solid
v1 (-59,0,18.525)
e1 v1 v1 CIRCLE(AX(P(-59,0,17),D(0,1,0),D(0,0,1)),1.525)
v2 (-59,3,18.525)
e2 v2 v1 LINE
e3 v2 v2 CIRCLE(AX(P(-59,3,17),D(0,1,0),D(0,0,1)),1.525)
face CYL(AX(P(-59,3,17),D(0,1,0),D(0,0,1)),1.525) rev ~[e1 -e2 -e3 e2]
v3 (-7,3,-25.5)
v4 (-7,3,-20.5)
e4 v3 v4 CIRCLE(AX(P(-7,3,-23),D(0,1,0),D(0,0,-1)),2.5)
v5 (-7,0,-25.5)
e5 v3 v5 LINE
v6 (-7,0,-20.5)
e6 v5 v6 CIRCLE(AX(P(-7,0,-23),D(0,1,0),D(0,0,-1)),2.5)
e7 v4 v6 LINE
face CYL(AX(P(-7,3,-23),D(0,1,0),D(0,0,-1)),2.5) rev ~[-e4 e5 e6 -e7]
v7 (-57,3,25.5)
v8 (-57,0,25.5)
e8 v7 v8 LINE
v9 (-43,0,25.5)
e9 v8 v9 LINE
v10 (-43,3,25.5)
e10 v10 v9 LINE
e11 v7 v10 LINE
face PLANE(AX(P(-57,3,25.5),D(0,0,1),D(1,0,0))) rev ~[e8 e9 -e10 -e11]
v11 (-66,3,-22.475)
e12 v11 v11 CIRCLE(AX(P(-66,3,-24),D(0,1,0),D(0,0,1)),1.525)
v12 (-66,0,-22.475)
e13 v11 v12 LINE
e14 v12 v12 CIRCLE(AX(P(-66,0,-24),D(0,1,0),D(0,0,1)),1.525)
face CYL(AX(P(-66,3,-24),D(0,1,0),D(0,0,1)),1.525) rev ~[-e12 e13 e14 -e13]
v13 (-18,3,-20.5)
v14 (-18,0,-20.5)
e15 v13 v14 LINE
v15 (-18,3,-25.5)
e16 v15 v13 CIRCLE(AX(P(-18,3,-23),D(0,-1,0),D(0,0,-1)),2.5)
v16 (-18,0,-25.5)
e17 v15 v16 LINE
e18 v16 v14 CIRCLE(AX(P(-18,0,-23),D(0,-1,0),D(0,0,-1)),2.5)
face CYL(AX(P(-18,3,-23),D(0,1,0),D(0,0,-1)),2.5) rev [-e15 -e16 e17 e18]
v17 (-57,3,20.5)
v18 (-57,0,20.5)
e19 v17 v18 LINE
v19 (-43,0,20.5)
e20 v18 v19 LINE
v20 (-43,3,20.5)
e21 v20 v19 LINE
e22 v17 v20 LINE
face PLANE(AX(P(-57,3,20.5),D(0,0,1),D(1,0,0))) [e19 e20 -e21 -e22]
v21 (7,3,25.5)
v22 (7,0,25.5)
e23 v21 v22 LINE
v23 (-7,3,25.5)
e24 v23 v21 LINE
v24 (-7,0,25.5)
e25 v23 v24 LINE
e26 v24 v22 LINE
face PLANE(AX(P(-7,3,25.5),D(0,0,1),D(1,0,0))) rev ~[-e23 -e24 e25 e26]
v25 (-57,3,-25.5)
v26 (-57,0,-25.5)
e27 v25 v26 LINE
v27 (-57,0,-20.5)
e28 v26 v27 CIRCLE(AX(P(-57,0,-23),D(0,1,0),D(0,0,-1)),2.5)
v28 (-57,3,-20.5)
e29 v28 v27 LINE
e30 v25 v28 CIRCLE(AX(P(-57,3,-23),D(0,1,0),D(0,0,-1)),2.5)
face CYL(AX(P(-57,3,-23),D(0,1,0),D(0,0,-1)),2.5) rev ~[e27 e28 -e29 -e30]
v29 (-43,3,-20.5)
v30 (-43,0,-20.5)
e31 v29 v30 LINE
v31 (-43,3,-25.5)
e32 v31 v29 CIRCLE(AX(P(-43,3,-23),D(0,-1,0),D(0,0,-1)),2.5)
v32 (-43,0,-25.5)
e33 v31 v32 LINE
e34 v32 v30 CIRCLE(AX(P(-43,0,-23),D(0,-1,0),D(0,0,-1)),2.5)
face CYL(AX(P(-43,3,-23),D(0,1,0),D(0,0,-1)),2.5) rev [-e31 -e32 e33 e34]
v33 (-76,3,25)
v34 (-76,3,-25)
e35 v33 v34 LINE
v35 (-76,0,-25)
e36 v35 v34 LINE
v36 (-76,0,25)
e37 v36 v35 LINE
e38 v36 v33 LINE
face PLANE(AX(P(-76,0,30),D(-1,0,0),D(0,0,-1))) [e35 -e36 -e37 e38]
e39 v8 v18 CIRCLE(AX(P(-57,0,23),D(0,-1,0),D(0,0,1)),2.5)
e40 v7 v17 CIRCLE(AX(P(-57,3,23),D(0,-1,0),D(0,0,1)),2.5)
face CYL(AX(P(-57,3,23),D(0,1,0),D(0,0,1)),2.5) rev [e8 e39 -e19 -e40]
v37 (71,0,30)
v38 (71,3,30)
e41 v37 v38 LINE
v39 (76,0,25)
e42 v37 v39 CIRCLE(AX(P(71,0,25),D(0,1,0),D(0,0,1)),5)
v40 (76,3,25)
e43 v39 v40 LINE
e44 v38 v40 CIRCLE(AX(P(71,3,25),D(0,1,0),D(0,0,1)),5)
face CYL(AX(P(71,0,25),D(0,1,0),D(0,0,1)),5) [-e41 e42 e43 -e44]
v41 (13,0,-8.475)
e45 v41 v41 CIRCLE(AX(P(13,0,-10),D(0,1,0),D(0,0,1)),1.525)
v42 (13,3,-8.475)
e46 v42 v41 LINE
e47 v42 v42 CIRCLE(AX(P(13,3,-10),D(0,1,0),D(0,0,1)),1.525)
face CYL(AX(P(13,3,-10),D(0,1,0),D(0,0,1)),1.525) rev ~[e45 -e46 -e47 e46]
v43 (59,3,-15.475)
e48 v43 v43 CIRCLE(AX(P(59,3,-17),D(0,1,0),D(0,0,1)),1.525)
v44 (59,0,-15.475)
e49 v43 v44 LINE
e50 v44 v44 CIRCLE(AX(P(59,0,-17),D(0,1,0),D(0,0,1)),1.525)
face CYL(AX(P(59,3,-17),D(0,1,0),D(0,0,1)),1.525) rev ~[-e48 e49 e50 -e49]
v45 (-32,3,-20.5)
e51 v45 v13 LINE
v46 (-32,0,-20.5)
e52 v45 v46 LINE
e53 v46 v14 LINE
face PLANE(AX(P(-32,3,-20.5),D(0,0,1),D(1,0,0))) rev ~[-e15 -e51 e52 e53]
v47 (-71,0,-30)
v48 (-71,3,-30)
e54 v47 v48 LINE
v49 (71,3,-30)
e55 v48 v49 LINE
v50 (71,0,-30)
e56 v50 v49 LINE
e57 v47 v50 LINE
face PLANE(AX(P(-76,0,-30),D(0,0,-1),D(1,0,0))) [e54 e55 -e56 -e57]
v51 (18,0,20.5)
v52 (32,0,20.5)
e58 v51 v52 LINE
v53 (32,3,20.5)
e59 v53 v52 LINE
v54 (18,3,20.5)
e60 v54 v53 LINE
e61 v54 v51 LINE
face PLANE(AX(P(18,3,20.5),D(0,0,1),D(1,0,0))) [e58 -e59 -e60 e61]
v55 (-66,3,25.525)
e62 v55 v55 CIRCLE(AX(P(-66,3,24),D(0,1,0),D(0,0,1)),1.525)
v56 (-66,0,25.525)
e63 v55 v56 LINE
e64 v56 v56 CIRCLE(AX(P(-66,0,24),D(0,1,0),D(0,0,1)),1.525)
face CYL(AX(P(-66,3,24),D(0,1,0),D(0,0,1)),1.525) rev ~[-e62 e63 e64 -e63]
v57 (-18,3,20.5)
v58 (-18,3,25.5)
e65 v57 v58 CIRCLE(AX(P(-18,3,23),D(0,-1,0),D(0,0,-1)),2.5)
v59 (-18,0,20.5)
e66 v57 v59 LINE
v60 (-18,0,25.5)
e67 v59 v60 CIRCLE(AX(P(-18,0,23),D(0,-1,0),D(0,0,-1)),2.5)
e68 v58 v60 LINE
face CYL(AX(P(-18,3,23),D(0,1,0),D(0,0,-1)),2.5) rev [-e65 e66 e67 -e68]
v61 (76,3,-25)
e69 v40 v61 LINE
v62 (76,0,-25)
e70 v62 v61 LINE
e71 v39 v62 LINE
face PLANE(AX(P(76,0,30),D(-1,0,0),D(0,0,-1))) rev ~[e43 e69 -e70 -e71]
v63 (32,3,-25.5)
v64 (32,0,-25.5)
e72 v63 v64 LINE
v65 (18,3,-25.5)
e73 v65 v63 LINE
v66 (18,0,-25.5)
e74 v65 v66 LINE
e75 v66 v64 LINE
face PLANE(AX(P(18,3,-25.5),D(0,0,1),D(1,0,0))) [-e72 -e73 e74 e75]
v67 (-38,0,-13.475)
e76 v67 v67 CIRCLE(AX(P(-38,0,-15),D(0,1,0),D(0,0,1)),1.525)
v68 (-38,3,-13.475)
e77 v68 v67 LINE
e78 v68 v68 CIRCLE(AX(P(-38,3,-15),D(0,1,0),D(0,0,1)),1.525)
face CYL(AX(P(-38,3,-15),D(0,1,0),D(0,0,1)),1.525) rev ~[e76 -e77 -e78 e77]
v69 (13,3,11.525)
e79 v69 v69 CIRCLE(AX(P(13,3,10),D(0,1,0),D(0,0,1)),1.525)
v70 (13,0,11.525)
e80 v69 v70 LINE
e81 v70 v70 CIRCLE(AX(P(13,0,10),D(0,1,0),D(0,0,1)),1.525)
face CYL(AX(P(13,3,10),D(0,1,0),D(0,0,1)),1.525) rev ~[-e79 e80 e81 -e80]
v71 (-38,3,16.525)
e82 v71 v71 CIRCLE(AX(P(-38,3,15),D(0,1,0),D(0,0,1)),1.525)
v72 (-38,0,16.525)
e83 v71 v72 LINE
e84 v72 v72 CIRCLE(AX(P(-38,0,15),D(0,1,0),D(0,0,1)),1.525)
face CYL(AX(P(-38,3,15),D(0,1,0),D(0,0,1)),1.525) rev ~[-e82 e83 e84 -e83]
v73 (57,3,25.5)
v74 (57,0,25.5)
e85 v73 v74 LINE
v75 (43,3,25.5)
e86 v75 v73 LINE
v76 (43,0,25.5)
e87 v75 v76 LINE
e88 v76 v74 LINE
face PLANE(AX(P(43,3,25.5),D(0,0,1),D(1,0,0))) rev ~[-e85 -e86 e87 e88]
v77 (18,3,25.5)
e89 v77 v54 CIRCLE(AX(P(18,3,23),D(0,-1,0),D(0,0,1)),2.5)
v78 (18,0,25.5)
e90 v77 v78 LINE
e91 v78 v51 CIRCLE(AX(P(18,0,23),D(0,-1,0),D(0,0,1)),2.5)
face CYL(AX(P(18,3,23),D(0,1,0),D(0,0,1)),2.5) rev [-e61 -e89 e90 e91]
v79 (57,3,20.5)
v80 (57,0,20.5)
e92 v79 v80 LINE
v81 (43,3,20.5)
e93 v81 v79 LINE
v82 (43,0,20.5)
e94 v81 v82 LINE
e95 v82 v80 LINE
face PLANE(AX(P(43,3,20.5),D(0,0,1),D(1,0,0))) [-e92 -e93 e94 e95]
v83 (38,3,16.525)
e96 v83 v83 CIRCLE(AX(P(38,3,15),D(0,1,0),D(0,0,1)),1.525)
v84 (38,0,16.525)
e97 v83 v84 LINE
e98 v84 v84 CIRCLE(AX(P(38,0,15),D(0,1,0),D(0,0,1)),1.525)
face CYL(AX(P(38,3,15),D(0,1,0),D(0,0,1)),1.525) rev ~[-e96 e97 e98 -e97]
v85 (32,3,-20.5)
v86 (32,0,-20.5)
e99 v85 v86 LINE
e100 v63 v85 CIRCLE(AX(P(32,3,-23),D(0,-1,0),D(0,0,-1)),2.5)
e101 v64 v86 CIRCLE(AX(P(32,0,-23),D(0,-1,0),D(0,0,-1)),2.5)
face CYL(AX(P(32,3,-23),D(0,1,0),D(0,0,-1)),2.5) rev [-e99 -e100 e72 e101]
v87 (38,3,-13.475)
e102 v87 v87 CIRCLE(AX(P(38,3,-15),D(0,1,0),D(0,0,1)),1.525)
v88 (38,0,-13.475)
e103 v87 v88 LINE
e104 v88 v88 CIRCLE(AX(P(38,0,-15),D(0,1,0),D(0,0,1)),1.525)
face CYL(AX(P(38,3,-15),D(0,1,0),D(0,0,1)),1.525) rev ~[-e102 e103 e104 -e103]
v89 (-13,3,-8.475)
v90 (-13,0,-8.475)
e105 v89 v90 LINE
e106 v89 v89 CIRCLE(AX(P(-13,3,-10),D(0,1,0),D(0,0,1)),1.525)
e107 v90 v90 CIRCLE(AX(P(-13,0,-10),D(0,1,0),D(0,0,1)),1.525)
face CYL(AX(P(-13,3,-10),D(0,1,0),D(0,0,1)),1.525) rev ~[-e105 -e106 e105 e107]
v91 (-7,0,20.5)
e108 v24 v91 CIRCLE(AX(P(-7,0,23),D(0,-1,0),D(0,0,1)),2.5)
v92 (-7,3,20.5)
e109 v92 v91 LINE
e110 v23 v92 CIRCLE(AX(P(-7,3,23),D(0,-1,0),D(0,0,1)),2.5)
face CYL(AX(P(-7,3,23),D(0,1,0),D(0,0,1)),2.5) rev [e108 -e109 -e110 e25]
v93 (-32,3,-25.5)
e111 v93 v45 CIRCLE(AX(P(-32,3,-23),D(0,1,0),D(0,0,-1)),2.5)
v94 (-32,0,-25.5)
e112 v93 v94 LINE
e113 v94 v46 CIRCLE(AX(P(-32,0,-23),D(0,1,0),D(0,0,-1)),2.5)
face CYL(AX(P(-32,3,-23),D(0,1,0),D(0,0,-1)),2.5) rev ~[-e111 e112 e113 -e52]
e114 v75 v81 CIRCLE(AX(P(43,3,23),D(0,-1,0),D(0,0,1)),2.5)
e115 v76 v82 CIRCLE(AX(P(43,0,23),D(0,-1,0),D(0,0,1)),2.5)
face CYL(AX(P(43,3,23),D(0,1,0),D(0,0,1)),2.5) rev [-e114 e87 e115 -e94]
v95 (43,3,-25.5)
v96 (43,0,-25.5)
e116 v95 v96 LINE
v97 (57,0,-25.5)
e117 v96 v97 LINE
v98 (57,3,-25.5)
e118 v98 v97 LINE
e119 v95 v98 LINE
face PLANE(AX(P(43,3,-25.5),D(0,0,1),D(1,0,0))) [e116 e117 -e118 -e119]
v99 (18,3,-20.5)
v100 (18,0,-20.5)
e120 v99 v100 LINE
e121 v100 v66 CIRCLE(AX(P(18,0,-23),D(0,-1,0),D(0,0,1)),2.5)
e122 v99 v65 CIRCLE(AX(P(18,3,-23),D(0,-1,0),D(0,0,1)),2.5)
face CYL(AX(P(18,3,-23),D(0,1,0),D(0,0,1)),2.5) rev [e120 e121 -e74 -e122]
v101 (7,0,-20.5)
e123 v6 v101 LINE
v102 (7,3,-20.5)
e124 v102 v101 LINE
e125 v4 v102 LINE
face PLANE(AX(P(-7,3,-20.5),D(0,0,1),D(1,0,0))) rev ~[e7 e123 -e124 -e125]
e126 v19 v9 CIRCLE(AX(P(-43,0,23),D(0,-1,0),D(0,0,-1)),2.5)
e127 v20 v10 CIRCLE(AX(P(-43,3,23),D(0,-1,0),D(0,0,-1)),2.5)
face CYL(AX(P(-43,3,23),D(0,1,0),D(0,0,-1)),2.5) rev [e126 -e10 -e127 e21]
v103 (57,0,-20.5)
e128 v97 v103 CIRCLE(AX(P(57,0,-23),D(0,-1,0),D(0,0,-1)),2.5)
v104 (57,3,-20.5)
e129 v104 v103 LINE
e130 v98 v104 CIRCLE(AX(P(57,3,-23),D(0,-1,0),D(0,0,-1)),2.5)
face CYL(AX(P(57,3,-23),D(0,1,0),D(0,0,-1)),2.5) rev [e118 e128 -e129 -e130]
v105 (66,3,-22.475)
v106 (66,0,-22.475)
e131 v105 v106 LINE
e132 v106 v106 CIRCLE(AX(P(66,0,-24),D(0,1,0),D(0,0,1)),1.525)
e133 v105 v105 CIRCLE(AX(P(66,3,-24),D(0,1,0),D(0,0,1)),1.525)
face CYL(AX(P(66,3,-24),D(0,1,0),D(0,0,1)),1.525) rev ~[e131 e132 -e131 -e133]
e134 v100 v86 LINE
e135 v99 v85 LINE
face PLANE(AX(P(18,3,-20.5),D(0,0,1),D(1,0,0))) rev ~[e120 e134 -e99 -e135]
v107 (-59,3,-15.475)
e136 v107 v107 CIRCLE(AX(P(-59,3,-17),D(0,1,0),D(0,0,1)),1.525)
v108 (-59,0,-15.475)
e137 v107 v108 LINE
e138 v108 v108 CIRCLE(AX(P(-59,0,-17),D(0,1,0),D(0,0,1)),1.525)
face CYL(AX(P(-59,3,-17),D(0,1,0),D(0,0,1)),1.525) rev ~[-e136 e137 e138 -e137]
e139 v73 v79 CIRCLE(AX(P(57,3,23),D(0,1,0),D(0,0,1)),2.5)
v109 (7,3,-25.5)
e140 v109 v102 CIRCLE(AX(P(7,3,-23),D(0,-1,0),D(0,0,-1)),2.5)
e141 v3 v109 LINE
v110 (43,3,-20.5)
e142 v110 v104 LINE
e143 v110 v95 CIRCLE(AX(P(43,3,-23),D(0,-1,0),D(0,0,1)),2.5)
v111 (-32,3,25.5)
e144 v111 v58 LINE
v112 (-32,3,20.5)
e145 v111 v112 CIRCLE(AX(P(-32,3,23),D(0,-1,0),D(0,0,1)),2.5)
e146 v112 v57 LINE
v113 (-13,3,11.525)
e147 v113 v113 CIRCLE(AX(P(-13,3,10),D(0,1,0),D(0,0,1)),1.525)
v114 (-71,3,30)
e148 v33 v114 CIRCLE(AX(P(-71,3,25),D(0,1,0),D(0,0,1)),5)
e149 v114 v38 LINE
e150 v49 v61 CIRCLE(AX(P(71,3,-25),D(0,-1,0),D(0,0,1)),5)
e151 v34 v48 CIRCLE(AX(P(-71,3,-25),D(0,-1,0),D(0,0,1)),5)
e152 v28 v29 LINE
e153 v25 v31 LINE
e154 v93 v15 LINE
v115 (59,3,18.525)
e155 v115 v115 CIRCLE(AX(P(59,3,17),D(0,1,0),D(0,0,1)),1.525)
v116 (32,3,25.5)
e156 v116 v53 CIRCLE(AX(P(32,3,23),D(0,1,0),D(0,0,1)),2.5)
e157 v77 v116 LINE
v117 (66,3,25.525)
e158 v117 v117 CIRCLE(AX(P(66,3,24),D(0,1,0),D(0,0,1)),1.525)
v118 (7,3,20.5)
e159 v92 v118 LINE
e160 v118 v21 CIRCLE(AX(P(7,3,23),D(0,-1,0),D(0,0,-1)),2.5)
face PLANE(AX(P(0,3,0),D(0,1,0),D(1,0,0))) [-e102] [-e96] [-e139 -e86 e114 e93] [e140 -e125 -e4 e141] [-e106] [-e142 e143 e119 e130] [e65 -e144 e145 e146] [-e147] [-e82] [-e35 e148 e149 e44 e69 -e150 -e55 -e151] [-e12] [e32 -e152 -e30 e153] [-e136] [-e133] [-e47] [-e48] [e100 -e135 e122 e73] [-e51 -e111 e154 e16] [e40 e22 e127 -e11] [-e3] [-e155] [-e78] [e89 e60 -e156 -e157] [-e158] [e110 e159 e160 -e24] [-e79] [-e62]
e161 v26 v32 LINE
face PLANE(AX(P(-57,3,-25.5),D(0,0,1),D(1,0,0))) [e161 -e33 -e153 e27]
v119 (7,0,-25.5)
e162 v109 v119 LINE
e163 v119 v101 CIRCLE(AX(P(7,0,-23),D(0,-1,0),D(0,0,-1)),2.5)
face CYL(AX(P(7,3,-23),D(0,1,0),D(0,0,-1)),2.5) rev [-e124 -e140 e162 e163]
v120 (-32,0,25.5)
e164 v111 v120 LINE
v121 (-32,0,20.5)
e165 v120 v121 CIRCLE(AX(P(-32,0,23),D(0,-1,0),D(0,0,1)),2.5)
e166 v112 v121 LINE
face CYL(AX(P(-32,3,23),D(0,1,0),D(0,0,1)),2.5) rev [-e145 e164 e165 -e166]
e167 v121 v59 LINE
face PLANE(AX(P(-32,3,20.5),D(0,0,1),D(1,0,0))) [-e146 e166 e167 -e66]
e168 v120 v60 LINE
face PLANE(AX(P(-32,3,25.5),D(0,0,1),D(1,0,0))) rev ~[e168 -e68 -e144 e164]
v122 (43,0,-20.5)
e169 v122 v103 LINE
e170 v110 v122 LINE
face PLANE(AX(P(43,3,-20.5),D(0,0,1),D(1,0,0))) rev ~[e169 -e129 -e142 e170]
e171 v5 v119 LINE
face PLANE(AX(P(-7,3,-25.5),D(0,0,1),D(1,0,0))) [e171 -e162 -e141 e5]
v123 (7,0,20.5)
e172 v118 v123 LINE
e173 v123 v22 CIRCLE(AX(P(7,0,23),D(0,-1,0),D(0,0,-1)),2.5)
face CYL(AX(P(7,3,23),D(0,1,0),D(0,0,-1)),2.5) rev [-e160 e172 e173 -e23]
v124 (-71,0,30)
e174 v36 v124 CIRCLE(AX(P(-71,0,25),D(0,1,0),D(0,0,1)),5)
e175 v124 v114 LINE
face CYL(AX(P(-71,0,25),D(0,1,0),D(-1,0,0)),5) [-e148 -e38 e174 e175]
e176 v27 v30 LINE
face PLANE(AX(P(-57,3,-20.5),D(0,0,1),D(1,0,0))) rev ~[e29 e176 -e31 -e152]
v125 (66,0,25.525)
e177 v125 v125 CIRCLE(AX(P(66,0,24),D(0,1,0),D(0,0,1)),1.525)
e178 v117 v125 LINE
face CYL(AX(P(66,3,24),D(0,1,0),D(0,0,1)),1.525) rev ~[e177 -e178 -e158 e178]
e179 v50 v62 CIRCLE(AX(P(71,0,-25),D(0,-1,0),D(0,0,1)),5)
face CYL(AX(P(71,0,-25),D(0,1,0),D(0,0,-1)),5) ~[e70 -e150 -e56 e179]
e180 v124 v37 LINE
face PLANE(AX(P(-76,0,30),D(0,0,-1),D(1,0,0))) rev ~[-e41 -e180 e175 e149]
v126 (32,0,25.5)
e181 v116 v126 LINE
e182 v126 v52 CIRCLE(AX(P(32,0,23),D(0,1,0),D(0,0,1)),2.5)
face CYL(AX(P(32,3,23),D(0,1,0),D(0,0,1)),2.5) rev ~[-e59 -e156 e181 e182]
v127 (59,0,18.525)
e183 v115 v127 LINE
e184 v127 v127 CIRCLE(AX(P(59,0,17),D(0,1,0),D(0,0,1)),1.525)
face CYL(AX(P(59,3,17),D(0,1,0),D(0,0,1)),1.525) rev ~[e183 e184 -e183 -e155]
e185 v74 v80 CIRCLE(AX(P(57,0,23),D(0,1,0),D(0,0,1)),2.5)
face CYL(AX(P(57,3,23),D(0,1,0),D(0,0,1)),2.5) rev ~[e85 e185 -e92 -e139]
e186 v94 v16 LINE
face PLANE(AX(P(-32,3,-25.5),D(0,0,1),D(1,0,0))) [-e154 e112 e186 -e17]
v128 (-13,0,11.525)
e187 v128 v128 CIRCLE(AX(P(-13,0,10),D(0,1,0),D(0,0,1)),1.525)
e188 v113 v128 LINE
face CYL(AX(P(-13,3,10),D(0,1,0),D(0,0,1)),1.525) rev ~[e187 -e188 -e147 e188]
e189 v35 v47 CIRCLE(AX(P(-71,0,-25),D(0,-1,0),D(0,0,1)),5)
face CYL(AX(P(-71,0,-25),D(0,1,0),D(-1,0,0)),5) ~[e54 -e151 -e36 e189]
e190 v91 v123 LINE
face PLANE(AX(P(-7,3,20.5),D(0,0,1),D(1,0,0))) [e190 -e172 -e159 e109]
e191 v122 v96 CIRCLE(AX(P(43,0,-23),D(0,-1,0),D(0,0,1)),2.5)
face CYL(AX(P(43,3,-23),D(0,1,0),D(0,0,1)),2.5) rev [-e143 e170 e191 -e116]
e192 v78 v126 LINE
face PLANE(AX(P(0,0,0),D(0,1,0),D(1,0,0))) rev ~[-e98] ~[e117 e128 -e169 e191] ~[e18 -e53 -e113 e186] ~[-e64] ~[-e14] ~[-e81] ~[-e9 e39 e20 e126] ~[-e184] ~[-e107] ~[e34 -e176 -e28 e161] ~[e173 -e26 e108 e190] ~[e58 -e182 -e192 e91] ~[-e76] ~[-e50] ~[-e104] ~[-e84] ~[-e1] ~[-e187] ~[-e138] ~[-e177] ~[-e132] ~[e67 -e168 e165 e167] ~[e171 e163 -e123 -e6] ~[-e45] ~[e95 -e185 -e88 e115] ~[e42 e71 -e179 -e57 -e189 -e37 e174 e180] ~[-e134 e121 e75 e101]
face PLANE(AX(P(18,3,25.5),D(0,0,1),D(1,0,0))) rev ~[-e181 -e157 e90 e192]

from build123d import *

# Parameters (mm, degrees)
SKETCH_1_W          = 152
SKETCH_1_H          = 60
EXTRUDE_1_DEPTH     = 3
CUT_EXTRUDE_1_REACH = 83.762
SKETCH_2_R          = 1.525
FILLET_1_R          = 5
CUT_EXTRUDE_2_REACH = 83.762
SKETCH_3_R          = 1.525
SKETCH_4_W          = 14
SKETCH_4_H          = 5
CUT_EXTRUDE_3_DEPTH = 3


with BuildPart() as part:
    # 草图1 → 凸台-拉伸1 (new body)
    with BuildSketch(Plane(origin=(0, 0, 0), x_dir=(1, 0, 0), z_dir=(0, 1, 0))):
        Rectangle(SKETCH_1_W, SKETCH_1_H)
    extrude(amount=EXTRUDE_1_DEPTH)

    # 草图2 → 切除-拉伸1 (cut, up to next)
    with BuildSketch(Plane(origin=(0, 3, 0), x_dir=(1, 0, 0), z_dir=(0, 1, 0)), mode=Mode.PRIVATE) as cut_extrude_1_sk1:
        with Locations(Location((-66, -24, 0), (0, 0, 270))):
            Circle(SKETCH_2_R)
    cut_extrude_1_tool1 = extrude(cut_extrude_1_sk1.sketch, amount=-CUT_EXTRUDE_1_REACH, mode=Mode.PRIVATE) & part.part
    # 草图2 → 切除-拉伸1 (cut, up to next)
    with BuildSketch(Plane(origin=(0, 3, 0), x_dir=(1, 0, 0), z_dir=(0, 1, 0)), mode=Mode.PRIVATE) as cut_extrude_1_sk2:
        with Locations(Location((-66, 24, 0), (0, 0, 270))):
            Circle(SKETCH_2_R)
    cut_extrude_1_tool2 = extrude(cut_extrude_1_sk2.sketch, amount=-CUT_EXTRUDE_1_REACH, mode=Mode.PRIVATE) & part.part
    # 草图2 → 切除-拉伸1 (cut, up to next)
    with BuildSketch(Plane(origin=(0, 3, 0), x_dir=(1, 0, 0), z_dir=(0, 1, 0)), mode=Mode.PRIVATE) as cut_extrude_1_sk3:
        with Locations(Location((66, -24, 0), (0, 0, 270))):
            Circle(SKETCH_2_R)
    cut_extrude_1_tool3 = extrude(cut_extrude_1_sk3.sketch, amount=-CUT_EXTRUDE_1_REACH, mode=Mode.PRIVATE) & part.part
    # 草图2 → 切除-拉伸1 (cut, up to next)
    with BuildSketch(Plane(origin=(0, 3, 0), x_dir=(1, 0, 0), z_dir=(0, 1, 0)), mode=Mode.PRIVATE) as cut_extrude_1_sk4:
        with Locations(Location((66, 24, 0), (0, 0, 270))):
            Circle(SKETCH_2_R)
    cut_extrude_1_tool4 = extrude(cut_extrude_1_sk4.sketch, amount=-CUT_EXTRUDE_1_REACH, mode=Mode.PRIVATE) & part.part
    add(cut_extrude_1_tool1.solids().sort_by_distance((-66, 3, 24))[0], mode=Mode.SUBTRACT)
    add(cut_extrude_1_tool2.solids().sort_by_distance((-66, 3, -24))[0], mode=Mode.SUBTRACT)
    add(cut_extrude_1_tool3.solids().sort_by_distance((66, 3, 24))[0], mode=Mode.SUBTRACT)
    add(cut_extrude_1_tool4.solids().sort_by_distance((66, 3, -24))[0], mode=Mode.SUBTRACT)

    # 圆角1
    fillet_1_edges = [part.edges().sort_by_distance(p)[0] for p in [
        (76, 1.5, 30),
        (-76, 1.5, 30),
        (-76, 1.5, -30),
        (76, 1.5, -30),
    ]]
    fillet(fillet_1_edges, radius=FILLET_1_R)

    # 草图3 → 切除-拉伸2 (cut, up to next)
    with BuildSketch(Plane(origin=(0, 3, 0), x_dir=(1, 0, 0), z_dir=(0, 1, 0)), mode=Mode.PRIVATE) as cut_extrude_2_sk1:
        with Locations(Location((-13, 10, 0), (0, 0, 270))):
            Circle(SKETCH_3_R)
    cut_extrude_2_tool1 = extrude(cut_extrude_2_sk1.sketch, amount=-CUT_EXTRUDE_2_REACH, mode=Mode.PRIVATE) & part.part
    # 草图3 → 切除-拉伸2 (cut, up to next)
    with BuildSketch(Plane(origin=(0, 3, 0), x_dir=(1, 0, 0), z_dir=(0, 1, 0)), mode=Mode.PRIVATE) as cut_extrude_2_sk2:
        with Locations(Location((-38, 15, 0), (0, 0, 270))):
            Circle(SKETCH_3_R)
    cut_extrude_2_tool2 = extrude(cut_extrude_2_sk2.sketch, amount=-CUT_EXTRUDE_2_REACH, mode=Mode.PRIVATE) & part.part
    # 草图3 → 切除-拉伸2 (cut, up to next)
    with BuildSketch(Plane(origin=(0, 3, 0), x_dir=(1, 0, 0), z_dir=(0, 1, 0)), mode=Mode.PRIVATE) as cut_extrude_2_sk3:
        with Locations(Location((-59, 17, 0), (0, 0, 270))):
            Circle(SKETCH_3_R)
    cut_extrude_2_tool3 = extrude(cut_extrude_2_sk3.sketch, amount=-CUT_EXTRUDE_2_REACH, mode=Mode.PRIVATE) & part.part
    # 草图3 → 切除-拉伸2 (cut, up to next)
    with BuildSketch(Plane(origin=(0, 3, 0), x_dir=(1, 0, 0), z_dir=(0, 1, 0)), mode=Mode.PRIVATE) as cut_extrude_2_sk4:
        with Locations(Location((-13, -10, 0), (0, 0, 270))):
            Circle(SKETCH_3_R)
    cut_extrude_2_tool4 = extrude(cut_extrude_2_sk4.sketch, amount=-CUT_EXTRUDE_2_REACH, mode=Mode.PRIVATE) & part.part
    # 草图3 → 切除-拉伸2 (cut, up to next)
    with BuildSketch(Plane(origin=(0, 3, 0), x_dir=(1, 0, 0), z_dir=(0, 1, 0)), mode=Mode.PRIVATE) as cut_extrude_2_sk5:
        with Locations(Location((-38, -15, 0), (0, 0, 270))):
            Circle(SKETCH_3_R)
    cut_extrude_2_tool5 = extrude(cut_extrude_2_sk5.sketch, amount=-CUT_EXTRUDE_2_REACH, mode=Mode.PRIVATE) & part.part
    # 草图3 → 切除-拉伸2 (cut, up to next)
    with BuildSketch(Plane(origin=(0, 3, 0), x_dir=(1, 0, 0), z_dir=(0, 1, 0)), mode=Mode.PRIVATE) as cut_extrude_2_sk6:
        with Locations(Location((-59, -17, 0), (0, 0, 270))):
            Circle(SKETCH_3_R)
    cut_extrude_2_tool6 = extrude(cut_extrude_2_sk6.sketch, amount=-CUT_EXTRUDE_2_REACH, mode=Mode.PRIVATE) & part.part
    # 草图3 → 切除-拉伸2 (cut, up to next)
    with BuildSketch(Plane(origin=(0, 3, 0), x_dir=(1, 0, 0), z_dir=(0, 1, 0)), mode=Mode.PRIVATE) as cut_extrude_2_sk7:
        with Locations(Location((13, -10, 0), (0, 0, 270))):
            Circle(SKETCH_3_R)
    cut_extrude_2_tool7 = extrude(cut_extrude_2_sk7.sketch, amount=-CUT_EXTRUDE_2_REACH, mode=Mode.PRIVATE) & part.part
    # 草图3 → 切除-拉伸2 (cut, up to next)
    with BuildSketch(Plane(origin=(0, 3, 0), x_dir=(1, 0, 0), z_dir=(0, 1, 0)), mode=Mode.PRIVATE) as cut_extrude_2_sk8:
        with Locations(Location((38, -15, 0), (0, 0, 270))):
            Circle(SKETCH_3_R)
    cut_extrude_2_tool8 = extrude(cut_extrude_2_sk8.sketch, amount=-CUT_EXTRUDE_2_REACH, mode=Mode.PRIVATE) & part.part
    # 草图3 → 切除-拉伸2 (cut, up to next)
    with BuildSketch(Plane(origin=(0, 3, 0), x_dir=(1, 0, 0), z_dir=(0, 1, 0)), mode=Mode.PRIVATE) as cut_extrude_2_sk9:
        with Locations(Location((59, -17, 0), (0, 0, 270))):
            Circle(SKETCH_3_R)
    cut_extrude_2_tool9 = extrude(cut_extrude_2_sk9.sketch, amount=-CUT_EXTRUDE_2_REACH, mode=Mode.PRIVATE) & part.part
    # 草图3 → 切除-拉伸2 (cut, up to next)
    with BuildSketch(Plane(origin=(0, 3, 0), x_dir=(1, 0, 0), z_dir=(0, 1, 0)), mode=Mode.PRIVATE) as cut_extrude_2_sk10:
        with Locations(Location((13, 10, 0), (0, 0, 270))):
            Circle(SKETCH_3_R)
    cut_extrude_2_tool10 = extrude(cut_extrude_2_sk10.sketch, amount=-CUT_EXTRUDE_2_REACH, mode=Mode.PRIVATE) & part.part
    # 草图3 → 切除-拉伸2 (cut, up to next)
    with BuildSketch(Plane(origin=(0, 3, 0), x_dir=(1, 0, 0), z_dir=(0, 1, 0)), mode=Mode.PRIVATE) as cut_extrude_2_sk11:
        with Locations(Location((38, 15, 0), (0, 0, 270))):
            Circle(SKETCH_3_R)
    cut_extrude_2_tool11 = extrude(cut_extrude_2_sk11.sketch, amount=-CUT_EXTRUDE_2_REACH, mode=Mode.PRIVATE) & part.part
    # 草图3 → 切除-拉伸2 (cut, up to next)
    with BuildSketch(Plane(origin=(0, 3, 0), x_dir=(1, 0, 0), z_dir=(0, 1, 0)), mode=Mode.PRIVATE) as cut_extrude_2_sk12:
        with Locations(Location((59, 17, 0), (0, 0, 270))):
            Circle(SKETCH_3_R)
    cut_extrude_2_tool12 = extrude(cut_extrude_2_sk12.sketch, amount=-CUT_EXTRUDE_2_REACH, mode=Mode.PRIVATE) & part.part
    add(cut_extrude_2_tool1.solids().sort_by_distance((-13, 3, -10))[0], mode=Mode.SUBTRACT)
    add(cut_extrude_2_tool2.solids().sort_by_distance((-38, 3, -15))[0], mode=Mode.SUBTRACT)
    add(cut_extrude_2_tool3.solids().sort_by_distance((-59, 3, -17))[0], mode=Mode.SUBTRACT)
    add(cut_extrude_2_tool4.solids().sort_by_distance((-13, 3, 10))[0], mode=Mode.SUBTRACT)
    add(cut_extrude_2_tool5.solids().sort_by_distance((-38, 3, 15))[0], mode=Mode.SUBTRACT)
    add(cut_extrude_2_tool6.solids().sort_by_distance((-59, 3, 17))[0], mode=Mode.SUBTRACT)
    add(cut_extrude_2_tool7.solids().sort_by_distance((13, 3, 10))[0], mode=Mode.SUBTRACT)
    add(cut_extrude_2_tool8.solids().sort_by_distance((38, 3, 15))[0], mode=Mode.SUBTRACT)
    add(cut_extrude_2_tool9.solids().sort_by_distance((59, 3, 17))[0], mode=Mode.SUBTRACT)
    add(cut_extrude_2_tool10.solids().sort_by_distance((13, 3, -10))[0], mode=Mode.SUBTRACT)
    add(cut_extrude_2_tool11.solids().sort_by_distance((38, 3, -15))[0], mode=Mode.SUBTRACT)
    add(cut_extrude_2_tool12.solids().sort_by_distance((59, 3, -17))[0], mode=Mode.SUBTRACT)

    # 草图4 → 切除-拉伸3 (cut)
    with BuildSketch(Plane(origin=(0, 3, 0), x_dir=(1, 0, 0), z_dir=(0, 1, 0))):
        with BuildLine():
            ThreePointArc((-57, -25.5), (-59.5, -23), (-57, -20.5))
            Line((-57, -20.5), (-57, -25.5))
        make_face()
        with Locations((-50, -23)):
            Rectangle(SKETCH_4_W, SKETCH_4_H)
        with BuildLine():
            ThreePointArc((-43, -20.5), (-40.5, -23), (-43, -25.5))
            Line((-43, -25.5), (-43, -20.5))
        make_face()
        with BuildLine():
            ThreePointArc((-32, -25.5), (-34.5, -23), (-32, -20.5))
            Line((-32, -20.5), (-32, -25.5))
        make_face()
        with Locations((-25, -23)):
            Rectangle(SKETCH_4_W, SKETCH_4_H)
        with BuildLine():
            ThreePointArc((-18, -20.5), (-15.5, -23), (-18, -25.5))
            Line((-18, -25.5), (-18, -20.5))
        make_face()
        with BuildLine():
            ThreePointArc((-7, -25.5), (-9.5, -23), (-7, -20.5))
            Line((-7, -20.5), (-7, -25.5))
        make_face()
        with Locations((0, -23)):
            Rectangle(SKETCH_4_W, SKETCH_4_H)
        with BuildLine():
            ThreePointArc((7, -20.5), (9.5, -23), (7, -25.5))
            Line((7, -25.5), (7, -20.5))
        make_face()
        with BuildLine():
            Line((18, -20.5), (18, -25.5))
            ThreePointArc((18, -25.5), (15.5, -23), (18, -20.5))
        make_face()
        with Locations((25, -23)):
            Rectangle(SKETCH_4_W, SKETCH_4_H)
        with BuildLine():
            Line((32, -20.5), (32, -25.5))
            ThreePointArc((32, -25.5), (34.5, -23), (32, -20.5))
        make_face()
        with BuildLine():
            Line((43, -20.5), (43, -25.5))
            ThreePointArc((43, -25.5), (40.5, -23), (43, -20.5))
        make_face()
        with Locations((50, -23)):
            Rectangle(SKETCH_4_W, SKETCH_4_H)
        with BuildLine():
            Line((57, -20.5), (57, -25.5))
            ThreePointArc((57, -25.5), (59.5, -23), (57, -20.5))
        make_face()
        with BuildLine():
            Line((-57, 20.5), (-57, 25.5))
            ThreePointArc((-57, 25.5), (-59.5, 23), (-57, 20.5))
        make_face()
        with Locations((-50, 23)):
            Rectangle(SKETCH_4_W, SKETCH_4_H)
        with BuildLine():
            Line((-43, 20.5), (-43, 25.5))
            ThreePointArc((-43, 25.5), (-40.5, 23), (-43, 20.5))
        make_face()
        with BuildLine():
            Line((-32, 20.5), (-32, 25.5))
            ThreePointArc((-32, 25.5), (-34.5, 23), (-32, 20.5))
        make_face()
        with Locations((-25, 23)):
            Rectangle(SKETCH_4_W, SKETCH_4_H)
        with BuildLine():
            Line((-18, 20.5), (-18, 25.5))
            ThreePointArc((-18, 25.5), (-15.5, 23), (-18, 20.5))
        make_face()
        with BuildLine():
            Line((-7, 20.5), (-7, 25.5))
            ThreePointArc((-7, 25.5), (-9.5, 23), (-7, 20.5))
        make_face()
        with Locations((0, 23)):
            Rectangle(SKETCH_4_W, SKETCH_4_H)
        with BuildLine():
            Line((7, 20.5), (7, 25.5))
            ThreePointArc((7, 25.5), (9.5, 23), (7, 20.5))
        make_face()
        with BuildLine():
            ThreePointArc((18, 20.5), (15.5, 23), (18, 25.5))
            Line((18, 25.5), (18, 20.5))
        make_face()
        with Locations((25, 23)):
            Rectangle(SKETCH_4_W, SKETCH_4_H)
        with BuildLine():
            ThreePointArc((32, 25.5), (34.5, 23), (32, 20.5))
            Line((32, 20.5), (32, 25.5))
        make_face()
        with BuildLine():
            ThreePointArc((43, 20.5), (40.5, 23), (43, 25.5))
            Line((43, 25.5), (43, 20.5))
        make_face()
        with Locations((50, 23)):
            Rectangle(SKETCH_4_W, SKETCH_4_H)
        with BuildLine():
            ThreePointArc((57, 25.5), (59.5, 23), (57, 20.5))
            Line((57, 20.5), (57, 25.5))
        make_face()
    extrude(amount=-CUT_EXTRUDE_3_DEPTH, mode=Mode.SUBTRACT)


solid = part.part
